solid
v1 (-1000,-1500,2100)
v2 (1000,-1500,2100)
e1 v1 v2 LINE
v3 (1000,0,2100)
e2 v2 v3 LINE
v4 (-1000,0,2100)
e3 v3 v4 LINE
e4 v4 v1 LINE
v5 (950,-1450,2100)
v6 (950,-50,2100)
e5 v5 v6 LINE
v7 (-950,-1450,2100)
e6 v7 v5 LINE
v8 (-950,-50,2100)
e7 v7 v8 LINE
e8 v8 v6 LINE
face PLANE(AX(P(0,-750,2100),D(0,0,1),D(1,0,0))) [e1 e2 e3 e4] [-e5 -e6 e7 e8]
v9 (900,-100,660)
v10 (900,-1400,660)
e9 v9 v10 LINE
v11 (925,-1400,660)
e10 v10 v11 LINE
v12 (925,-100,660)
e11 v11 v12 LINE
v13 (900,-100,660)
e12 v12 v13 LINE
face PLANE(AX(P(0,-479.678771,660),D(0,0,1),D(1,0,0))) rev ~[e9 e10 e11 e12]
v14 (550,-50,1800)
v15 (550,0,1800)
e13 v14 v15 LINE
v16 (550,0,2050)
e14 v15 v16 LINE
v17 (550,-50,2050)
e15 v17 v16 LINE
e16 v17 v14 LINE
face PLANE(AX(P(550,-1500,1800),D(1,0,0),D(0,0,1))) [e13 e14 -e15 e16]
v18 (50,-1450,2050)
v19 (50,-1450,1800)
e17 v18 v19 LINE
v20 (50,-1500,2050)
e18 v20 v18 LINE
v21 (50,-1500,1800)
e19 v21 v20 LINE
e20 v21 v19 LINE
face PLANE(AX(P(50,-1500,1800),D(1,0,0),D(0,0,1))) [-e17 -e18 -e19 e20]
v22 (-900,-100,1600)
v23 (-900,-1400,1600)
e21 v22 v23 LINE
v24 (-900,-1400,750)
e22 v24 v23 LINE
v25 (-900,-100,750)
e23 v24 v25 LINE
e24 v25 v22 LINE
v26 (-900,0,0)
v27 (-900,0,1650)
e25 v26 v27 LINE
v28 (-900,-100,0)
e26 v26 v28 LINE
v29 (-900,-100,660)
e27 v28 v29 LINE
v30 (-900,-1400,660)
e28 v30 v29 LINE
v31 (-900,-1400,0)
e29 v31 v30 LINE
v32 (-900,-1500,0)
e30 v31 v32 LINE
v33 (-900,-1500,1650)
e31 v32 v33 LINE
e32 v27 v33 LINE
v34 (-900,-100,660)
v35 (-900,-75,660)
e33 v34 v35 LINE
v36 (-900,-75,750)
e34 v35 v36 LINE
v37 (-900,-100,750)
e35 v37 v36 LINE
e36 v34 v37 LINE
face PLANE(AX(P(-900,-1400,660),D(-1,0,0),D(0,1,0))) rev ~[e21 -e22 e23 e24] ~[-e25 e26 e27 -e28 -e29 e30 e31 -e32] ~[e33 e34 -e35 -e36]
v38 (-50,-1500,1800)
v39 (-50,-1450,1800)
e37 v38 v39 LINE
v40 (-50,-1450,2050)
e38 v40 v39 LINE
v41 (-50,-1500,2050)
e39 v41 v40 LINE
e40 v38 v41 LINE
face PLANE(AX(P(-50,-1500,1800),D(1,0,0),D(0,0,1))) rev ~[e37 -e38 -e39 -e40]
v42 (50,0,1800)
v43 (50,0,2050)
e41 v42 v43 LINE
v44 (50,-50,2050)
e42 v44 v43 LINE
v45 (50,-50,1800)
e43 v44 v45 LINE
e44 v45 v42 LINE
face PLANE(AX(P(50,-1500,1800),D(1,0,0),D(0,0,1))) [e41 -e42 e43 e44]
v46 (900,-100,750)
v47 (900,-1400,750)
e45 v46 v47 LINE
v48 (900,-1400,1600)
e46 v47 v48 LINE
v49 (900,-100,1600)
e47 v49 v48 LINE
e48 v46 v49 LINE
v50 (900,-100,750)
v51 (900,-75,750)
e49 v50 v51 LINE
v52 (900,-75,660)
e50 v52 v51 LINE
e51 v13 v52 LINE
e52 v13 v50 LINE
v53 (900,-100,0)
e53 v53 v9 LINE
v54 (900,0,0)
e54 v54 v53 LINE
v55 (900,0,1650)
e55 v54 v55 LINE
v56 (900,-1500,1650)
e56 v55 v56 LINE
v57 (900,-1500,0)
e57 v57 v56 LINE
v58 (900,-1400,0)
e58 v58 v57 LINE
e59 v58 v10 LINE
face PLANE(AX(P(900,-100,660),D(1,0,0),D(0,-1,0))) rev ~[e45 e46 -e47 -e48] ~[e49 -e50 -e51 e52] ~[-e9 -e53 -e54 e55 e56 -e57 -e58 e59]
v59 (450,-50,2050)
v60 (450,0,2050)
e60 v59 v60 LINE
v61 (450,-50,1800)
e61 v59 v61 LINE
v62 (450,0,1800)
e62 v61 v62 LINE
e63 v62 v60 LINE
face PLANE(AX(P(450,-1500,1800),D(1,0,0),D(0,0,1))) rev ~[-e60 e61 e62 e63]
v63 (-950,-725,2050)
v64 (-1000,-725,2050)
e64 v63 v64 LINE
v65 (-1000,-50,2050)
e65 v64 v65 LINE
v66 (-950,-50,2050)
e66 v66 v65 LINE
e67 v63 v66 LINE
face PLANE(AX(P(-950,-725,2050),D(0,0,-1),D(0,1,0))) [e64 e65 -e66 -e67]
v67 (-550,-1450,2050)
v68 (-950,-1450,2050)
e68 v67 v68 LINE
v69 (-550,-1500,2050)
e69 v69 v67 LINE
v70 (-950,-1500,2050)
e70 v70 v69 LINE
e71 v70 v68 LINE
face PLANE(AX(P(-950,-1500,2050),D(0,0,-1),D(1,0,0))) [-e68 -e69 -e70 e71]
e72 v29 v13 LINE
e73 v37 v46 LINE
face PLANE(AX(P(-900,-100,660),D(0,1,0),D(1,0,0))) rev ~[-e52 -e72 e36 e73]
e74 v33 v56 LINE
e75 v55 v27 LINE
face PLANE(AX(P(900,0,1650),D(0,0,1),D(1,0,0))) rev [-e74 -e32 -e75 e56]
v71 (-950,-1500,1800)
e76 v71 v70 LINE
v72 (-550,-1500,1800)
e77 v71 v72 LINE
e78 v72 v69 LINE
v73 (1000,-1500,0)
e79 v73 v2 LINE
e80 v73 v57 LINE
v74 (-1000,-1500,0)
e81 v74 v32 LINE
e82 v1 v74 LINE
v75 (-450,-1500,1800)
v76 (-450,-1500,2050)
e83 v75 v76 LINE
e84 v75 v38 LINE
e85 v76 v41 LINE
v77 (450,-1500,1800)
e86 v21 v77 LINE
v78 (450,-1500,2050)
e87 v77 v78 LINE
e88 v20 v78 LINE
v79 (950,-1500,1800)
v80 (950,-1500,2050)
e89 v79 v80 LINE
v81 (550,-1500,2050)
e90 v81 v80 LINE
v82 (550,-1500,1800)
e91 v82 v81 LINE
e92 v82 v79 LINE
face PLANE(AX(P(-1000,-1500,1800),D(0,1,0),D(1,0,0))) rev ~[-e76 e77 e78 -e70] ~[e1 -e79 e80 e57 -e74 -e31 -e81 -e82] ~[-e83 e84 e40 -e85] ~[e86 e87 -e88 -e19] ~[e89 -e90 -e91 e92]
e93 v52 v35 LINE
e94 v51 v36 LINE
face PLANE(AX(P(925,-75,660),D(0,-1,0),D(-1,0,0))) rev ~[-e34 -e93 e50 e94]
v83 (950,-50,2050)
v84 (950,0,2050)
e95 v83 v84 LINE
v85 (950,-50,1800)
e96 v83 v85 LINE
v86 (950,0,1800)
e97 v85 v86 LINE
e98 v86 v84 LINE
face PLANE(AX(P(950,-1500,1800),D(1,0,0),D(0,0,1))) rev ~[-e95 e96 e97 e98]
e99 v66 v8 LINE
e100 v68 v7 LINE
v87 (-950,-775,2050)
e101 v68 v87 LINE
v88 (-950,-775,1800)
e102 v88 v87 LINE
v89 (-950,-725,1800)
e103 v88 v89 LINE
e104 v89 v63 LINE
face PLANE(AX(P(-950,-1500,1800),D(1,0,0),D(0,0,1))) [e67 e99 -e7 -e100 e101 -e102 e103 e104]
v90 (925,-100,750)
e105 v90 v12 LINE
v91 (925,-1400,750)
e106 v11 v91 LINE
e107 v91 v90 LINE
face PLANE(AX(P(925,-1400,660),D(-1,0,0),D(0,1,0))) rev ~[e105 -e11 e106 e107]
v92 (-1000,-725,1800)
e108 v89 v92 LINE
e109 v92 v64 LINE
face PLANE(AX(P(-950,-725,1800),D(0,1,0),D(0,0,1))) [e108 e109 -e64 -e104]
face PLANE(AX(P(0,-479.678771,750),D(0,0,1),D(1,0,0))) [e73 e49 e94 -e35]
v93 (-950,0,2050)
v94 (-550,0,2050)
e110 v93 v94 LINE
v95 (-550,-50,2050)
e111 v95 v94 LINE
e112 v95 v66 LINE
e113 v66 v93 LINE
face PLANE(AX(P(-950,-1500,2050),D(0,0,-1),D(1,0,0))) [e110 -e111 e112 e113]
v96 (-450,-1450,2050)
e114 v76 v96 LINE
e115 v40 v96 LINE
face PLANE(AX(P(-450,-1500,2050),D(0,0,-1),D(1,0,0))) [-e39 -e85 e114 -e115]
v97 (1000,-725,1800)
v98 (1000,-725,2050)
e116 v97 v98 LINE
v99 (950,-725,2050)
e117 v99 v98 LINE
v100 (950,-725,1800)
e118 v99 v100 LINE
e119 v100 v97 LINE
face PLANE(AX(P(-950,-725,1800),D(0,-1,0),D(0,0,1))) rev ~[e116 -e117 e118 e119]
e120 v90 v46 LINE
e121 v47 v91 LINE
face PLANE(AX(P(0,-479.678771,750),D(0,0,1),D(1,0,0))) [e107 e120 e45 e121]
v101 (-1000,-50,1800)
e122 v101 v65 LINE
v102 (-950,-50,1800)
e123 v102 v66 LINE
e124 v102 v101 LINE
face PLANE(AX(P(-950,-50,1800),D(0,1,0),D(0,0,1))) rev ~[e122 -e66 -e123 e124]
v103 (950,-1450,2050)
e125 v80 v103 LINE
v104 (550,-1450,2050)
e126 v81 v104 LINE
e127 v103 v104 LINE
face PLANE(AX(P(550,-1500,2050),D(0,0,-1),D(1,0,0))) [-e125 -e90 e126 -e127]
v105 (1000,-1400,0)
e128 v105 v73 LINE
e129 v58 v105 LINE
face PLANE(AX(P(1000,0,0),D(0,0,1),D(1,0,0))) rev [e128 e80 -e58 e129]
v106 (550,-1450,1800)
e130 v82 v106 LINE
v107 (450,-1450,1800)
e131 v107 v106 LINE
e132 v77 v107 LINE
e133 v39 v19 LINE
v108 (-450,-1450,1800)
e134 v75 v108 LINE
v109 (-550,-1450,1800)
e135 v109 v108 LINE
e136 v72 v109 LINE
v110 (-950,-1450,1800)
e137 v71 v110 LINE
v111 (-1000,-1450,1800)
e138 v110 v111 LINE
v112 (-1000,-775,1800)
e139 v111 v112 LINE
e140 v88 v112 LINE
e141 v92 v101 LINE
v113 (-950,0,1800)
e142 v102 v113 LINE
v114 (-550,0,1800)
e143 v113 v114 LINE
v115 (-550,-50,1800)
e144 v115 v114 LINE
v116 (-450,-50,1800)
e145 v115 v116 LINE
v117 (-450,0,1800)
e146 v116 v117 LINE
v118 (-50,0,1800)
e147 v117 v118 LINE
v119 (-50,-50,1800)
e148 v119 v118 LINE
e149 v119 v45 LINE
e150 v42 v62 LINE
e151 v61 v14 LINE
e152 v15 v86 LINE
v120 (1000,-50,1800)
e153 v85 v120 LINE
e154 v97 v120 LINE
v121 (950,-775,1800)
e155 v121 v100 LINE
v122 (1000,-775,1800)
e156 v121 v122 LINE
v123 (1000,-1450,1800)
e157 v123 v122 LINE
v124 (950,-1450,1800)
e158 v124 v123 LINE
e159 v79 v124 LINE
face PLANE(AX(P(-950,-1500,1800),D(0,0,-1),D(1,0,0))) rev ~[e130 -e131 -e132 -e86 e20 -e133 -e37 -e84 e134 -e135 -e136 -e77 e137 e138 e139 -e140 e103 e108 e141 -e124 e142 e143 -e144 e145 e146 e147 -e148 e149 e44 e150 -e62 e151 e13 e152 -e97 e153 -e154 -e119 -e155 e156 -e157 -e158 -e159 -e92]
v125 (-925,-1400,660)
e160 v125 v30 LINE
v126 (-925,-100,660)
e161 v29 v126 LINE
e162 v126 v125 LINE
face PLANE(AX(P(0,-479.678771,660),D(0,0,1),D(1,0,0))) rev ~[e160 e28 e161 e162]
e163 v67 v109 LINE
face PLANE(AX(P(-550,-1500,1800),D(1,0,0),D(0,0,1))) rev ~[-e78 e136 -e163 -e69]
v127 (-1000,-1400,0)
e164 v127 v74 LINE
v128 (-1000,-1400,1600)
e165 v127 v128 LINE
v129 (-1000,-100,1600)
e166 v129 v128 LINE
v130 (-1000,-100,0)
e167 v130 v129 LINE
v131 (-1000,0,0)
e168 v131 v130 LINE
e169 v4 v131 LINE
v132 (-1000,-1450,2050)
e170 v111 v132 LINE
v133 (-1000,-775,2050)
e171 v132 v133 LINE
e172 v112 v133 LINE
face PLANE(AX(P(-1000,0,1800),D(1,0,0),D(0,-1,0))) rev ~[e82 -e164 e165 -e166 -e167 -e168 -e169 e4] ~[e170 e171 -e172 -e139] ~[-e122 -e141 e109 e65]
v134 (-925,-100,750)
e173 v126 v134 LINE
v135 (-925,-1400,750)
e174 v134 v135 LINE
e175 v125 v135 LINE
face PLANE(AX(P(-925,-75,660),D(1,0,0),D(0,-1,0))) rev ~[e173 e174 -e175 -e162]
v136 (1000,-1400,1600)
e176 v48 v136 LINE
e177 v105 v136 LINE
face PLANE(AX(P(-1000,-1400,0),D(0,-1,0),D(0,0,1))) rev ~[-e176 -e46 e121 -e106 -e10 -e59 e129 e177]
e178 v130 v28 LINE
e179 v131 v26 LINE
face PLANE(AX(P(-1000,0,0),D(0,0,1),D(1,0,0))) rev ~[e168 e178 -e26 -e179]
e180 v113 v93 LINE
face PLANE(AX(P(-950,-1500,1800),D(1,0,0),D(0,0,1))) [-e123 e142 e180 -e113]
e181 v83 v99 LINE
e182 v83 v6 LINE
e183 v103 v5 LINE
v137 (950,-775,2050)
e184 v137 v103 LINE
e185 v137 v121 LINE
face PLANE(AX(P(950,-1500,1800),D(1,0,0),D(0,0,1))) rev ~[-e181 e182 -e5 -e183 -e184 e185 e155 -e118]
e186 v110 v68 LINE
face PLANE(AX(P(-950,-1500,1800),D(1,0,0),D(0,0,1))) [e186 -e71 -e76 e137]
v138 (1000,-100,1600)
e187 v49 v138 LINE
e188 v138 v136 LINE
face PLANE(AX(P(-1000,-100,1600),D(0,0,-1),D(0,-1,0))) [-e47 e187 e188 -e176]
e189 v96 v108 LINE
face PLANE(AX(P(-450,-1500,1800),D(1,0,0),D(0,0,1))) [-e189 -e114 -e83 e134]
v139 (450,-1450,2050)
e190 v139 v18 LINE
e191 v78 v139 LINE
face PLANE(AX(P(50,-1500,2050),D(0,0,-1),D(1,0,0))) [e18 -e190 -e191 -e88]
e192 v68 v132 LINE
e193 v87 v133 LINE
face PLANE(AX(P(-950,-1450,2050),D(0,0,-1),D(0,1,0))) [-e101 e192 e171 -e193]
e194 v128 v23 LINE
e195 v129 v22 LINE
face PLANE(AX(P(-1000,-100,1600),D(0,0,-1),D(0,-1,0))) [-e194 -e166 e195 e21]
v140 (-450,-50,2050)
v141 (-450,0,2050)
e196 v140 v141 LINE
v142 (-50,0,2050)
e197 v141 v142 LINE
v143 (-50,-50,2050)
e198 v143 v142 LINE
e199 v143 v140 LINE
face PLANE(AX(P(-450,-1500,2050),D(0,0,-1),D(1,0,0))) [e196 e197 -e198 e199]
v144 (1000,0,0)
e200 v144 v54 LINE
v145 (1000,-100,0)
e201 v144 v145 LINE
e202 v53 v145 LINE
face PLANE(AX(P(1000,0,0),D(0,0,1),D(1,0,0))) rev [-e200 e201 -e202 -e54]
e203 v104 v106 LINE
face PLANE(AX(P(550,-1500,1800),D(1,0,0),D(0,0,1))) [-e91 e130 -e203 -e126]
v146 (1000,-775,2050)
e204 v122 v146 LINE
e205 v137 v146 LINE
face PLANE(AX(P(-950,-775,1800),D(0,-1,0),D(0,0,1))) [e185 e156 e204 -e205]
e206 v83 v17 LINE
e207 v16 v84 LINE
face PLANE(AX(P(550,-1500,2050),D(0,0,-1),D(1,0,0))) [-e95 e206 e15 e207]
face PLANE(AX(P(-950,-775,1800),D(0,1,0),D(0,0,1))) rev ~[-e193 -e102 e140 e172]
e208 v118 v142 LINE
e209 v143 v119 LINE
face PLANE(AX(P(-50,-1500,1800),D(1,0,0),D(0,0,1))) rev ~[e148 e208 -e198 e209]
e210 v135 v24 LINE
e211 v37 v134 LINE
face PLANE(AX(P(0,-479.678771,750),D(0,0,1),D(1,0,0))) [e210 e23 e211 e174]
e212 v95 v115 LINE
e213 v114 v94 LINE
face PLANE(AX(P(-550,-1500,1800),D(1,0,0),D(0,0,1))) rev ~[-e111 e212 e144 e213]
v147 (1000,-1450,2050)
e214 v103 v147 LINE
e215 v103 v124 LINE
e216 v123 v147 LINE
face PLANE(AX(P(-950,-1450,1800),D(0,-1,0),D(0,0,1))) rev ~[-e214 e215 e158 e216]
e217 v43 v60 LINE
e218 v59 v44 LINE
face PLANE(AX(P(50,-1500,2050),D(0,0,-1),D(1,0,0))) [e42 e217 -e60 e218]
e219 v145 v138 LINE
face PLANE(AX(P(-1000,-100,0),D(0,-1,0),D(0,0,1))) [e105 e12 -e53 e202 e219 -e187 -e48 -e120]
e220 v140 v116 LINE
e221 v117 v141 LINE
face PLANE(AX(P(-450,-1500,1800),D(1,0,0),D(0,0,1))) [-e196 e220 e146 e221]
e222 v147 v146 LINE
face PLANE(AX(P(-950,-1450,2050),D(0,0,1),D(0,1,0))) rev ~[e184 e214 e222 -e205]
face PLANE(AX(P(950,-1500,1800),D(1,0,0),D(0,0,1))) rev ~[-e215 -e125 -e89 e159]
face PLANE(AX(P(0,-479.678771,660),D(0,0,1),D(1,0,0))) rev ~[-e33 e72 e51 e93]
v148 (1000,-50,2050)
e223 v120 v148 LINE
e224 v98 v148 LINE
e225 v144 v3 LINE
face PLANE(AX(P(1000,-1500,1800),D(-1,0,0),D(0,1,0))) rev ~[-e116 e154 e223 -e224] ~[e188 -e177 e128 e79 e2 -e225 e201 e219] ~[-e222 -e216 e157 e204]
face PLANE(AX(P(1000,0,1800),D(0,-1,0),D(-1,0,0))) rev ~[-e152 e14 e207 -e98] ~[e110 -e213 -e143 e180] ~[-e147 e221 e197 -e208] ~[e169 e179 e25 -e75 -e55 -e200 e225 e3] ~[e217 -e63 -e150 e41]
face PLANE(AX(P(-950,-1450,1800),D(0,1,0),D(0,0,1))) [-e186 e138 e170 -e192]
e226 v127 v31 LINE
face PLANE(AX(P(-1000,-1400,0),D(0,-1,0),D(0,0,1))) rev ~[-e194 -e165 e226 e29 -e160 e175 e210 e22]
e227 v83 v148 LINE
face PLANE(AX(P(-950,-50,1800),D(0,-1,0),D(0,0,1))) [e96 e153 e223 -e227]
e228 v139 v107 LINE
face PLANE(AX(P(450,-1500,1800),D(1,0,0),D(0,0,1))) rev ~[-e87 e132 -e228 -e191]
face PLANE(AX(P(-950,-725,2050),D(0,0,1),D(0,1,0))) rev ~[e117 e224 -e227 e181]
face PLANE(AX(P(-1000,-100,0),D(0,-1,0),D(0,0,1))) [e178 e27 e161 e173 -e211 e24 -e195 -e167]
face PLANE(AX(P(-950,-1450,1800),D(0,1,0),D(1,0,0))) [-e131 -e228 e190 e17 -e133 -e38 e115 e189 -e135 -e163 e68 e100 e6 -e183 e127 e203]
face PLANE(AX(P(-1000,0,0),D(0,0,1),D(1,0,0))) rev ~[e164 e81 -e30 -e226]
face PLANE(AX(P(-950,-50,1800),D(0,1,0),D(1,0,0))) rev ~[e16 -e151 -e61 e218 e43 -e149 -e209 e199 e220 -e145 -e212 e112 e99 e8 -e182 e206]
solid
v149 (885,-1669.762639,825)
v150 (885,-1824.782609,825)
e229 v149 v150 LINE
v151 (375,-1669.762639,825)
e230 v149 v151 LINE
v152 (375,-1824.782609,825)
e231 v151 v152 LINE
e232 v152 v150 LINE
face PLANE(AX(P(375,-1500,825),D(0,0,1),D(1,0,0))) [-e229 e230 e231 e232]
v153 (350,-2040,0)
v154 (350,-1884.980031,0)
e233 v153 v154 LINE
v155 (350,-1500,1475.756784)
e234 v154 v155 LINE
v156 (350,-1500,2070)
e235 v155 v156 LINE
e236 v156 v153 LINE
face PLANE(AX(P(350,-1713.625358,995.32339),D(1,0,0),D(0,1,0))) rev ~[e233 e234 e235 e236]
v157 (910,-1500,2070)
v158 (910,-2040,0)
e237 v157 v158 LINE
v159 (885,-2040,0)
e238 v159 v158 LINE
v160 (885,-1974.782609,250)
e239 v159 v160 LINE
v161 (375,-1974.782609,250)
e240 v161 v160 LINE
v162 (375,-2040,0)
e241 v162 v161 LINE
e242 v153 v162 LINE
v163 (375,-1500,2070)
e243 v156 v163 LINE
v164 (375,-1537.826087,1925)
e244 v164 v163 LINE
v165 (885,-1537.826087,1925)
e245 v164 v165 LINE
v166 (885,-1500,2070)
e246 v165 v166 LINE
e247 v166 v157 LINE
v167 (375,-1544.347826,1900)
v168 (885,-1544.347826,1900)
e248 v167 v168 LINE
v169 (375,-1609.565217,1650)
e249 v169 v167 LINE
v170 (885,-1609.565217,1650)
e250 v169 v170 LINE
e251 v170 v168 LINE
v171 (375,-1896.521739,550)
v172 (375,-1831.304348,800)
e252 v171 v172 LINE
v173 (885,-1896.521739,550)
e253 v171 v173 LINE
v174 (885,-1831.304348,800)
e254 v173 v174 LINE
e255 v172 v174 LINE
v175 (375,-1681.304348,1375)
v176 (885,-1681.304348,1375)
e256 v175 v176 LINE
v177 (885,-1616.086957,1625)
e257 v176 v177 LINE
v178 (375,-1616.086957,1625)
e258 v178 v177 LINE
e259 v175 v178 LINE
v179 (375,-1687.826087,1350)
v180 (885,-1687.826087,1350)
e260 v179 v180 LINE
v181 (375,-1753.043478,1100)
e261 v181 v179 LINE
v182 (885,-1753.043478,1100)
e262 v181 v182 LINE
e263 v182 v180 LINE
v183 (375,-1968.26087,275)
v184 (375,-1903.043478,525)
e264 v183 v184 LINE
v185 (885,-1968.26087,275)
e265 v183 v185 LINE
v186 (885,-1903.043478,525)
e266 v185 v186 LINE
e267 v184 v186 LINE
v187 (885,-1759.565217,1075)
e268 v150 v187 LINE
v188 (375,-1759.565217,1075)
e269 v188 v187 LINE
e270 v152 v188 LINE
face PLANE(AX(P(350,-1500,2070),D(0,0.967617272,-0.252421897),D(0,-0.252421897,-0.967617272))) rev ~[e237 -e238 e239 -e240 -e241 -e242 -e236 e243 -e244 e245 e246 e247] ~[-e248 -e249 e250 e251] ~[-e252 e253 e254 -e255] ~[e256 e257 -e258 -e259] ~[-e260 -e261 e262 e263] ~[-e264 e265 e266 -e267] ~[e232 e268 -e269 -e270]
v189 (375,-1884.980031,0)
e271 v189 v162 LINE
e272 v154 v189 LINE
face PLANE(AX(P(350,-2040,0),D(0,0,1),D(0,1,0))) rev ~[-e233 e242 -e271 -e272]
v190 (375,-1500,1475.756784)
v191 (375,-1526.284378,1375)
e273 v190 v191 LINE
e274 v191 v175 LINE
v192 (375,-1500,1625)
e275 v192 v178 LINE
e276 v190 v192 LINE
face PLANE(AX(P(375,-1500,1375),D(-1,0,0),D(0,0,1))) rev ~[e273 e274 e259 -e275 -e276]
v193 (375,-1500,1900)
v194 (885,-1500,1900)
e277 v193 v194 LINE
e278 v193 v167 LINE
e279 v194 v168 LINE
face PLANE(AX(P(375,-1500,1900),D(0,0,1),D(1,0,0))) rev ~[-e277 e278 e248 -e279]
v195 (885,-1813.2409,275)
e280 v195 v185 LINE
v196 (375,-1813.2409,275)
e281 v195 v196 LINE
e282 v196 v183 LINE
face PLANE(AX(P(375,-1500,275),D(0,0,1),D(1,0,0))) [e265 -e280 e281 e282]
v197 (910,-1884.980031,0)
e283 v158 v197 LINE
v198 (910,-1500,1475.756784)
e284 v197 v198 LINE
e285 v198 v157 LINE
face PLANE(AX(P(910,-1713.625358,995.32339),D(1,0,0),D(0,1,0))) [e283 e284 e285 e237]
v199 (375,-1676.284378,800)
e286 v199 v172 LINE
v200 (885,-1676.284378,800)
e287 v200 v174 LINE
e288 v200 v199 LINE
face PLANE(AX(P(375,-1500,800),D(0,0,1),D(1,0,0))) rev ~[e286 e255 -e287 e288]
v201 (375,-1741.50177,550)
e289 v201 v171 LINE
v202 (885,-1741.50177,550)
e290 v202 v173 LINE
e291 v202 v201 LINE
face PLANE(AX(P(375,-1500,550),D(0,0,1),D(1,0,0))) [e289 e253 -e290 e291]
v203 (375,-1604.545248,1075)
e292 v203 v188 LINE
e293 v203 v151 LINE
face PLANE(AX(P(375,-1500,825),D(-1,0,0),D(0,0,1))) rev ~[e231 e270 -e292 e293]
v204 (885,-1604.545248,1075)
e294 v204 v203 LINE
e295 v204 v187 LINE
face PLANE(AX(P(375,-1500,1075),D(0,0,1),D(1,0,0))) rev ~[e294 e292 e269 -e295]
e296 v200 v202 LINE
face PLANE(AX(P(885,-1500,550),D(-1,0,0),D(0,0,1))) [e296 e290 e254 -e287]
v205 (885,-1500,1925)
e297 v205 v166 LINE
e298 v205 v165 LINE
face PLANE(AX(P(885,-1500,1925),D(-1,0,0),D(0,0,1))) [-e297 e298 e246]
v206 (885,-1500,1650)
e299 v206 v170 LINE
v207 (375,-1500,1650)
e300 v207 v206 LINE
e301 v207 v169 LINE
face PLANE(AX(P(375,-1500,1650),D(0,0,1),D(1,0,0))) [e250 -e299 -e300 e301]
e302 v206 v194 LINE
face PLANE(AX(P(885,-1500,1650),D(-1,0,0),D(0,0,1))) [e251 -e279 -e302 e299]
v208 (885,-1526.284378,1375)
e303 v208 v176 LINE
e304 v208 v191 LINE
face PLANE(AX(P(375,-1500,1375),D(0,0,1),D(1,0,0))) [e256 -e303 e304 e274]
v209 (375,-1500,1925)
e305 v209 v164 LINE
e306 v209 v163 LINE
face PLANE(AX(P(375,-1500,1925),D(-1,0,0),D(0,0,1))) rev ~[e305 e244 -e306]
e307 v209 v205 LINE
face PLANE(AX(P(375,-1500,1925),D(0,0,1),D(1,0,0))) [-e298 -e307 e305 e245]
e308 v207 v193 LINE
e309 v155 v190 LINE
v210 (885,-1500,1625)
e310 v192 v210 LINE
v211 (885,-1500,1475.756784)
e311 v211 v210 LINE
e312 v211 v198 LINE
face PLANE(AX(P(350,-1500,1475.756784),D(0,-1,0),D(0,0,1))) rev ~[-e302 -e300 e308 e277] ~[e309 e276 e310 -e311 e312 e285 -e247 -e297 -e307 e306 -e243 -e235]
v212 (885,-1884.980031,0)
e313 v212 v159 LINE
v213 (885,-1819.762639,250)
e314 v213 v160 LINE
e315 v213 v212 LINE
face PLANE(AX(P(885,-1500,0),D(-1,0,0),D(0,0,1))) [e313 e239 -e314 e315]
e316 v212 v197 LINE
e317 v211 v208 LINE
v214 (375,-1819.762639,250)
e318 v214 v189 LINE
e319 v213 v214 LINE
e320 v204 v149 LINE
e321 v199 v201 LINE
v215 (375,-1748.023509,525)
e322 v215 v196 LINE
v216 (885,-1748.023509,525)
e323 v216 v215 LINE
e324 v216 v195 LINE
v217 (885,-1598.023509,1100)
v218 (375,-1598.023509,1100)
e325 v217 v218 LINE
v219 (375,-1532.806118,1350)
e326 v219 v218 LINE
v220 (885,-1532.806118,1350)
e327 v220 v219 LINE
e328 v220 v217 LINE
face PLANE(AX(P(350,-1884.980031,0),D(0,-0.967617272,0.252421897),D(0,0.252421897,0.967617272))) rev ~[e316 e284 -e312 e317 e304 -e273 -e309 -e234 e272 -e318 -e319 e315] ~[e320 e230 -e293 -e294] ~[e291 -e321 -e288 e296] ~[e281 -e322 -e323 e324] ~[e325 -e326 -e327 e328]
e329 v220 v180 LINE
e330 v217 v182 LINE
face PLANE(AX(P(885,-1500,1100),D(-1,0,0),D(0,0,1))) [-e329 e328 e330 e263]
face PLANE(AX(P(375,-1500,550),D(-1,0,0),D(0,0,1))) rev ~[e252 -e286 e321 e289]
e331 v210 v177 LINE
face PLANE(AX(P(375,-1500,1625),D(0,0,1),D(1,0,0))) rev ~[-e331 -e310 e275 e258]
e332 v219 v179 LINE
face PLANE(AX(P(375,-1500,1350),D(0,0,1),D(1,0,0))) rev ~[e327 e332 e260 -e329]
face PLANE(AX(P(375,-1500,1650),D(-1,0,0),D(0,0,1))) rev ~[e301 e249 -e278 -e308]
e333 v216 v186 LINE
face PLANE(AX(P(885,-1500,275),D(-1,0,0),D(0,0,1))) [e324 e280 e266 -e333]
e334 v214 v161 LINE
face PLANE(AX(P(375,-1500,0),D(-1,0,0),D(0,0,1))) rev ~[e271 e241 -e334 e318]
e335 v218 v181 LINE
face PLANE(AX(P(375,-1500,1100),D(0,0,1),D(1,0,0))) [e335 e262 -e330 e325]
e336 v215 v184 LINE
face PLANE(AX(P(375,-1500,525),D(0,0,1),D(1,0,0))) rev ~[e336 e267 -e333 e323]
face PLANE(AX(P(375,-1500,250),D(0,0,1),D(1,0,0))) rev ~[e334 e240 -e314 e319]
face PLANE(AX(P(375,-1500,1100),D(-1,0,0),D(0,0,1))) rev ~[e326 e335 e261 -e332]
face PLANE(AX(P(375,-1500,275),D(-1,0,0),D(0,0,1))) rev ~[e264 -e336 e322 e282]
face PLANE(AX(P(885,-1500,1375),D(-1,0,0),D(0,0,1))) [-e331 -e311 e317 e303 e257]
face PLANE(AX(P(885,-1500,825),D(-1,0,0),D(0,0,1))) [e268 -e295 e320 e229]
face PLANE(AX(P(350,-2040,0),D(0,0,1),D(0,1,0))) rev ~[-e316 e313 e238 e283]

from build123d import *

# Parameters (mm, degrees)
F1_DEPTH      = 1500
F3_W          = 1900
F3_H          = 1400
F4_DEPTH      = 300
F5_W          = 400
F5_H          = 250
F6_DEPTH      = 1500.001
F7_W          = 675
F7_H          = 250
F8_DEPTH      = 1950.001
F8_DEPTH_BACK = 50.001
F9_W          = 1300
F9_H          = 1600
F10_DEPTH     = 2000.001
F14_DEPTH     = 560
F15_W         = 510
F15_H         = 250
F16_DEPTH     = 540.001
F18_DEPTH     = 90


with BuildPart() as f1:
    # F0 (on Front) → F1 (new body)
    with BuildSketch(Plane.XZ):
        Polygon((-1000, 1800), (-1000, 0), (-900, 0), (-900, 1650), (0, 1650), (0, 1800), align=None)
    extrude(amount=F1_DEPTH)

    # F2: F1 across plane


with BuildPart() as f1_1:
    add(f1.part)
    add(f1.part.mirror(Plane.YZ))

    # F3 (on face) → F4 (join)
    with BuildSketch(Plane.XY.offset(1800)):
        Polygon((-1000, -1500), (1000, -1500), (1000, -1450), (1000, 0), (-1000, 0), (-1000, -50), align=None)
        with Locations((0, -750)):
            Rectangle(F3_W, F3_H, mode=Mode.SUBTRACT)
    extrude(amount=F4_DEPTH)

    # F5 (on face) → F6 (cut, through all)
    with BuildSketch(Plane.XZ.offset(1500)):
        with Locations((-750, 1925)):
            Rectangle(F5_W, F5_H)
        with Locations((-250, 1925)):
            Rectangle(F5_W, F5_H)
        with Locations((250, 1925)):
            Rectangle(F5_W, F5_H)
        with Locations((750, 1925)):
            Rectangle(F5_W, F5_H)
        with Locations((1250, 1925)):
            Rectangle(F5_W, F5_H)
    extrude(amount=-F6_DEPTH, mode=Mode.SUBTRACT)

    # F7 (on face) → F8 (cut, two sides)
    with BuildSketch(Plane.YZ.offset(-950)) as f8_sk:
        with Locations((-1112.5, 1925)):
            Rectangle(F7_W, F7_H)
        with Locations((-387.5, 1925)):
            Rectangle(F7_W, F7_H)
    extrude(amount=F8_DEPTH, mode=Mode.SUBTRACT)
    extrude(f8_sk.sketch, amount=-F8_DEPTH_BACK, mode=Mode.SUBTRACT)

    # F9 (on face) → F10 (cut, through all)
    with BuildSketch(Plane(origin=(-1000, 0, 0), x_dir=(0, -1, 0), z_dir=(-1, 0, 0))):
        with Locations((750, 800)):
            Rectangle(F9_W, F9_H)
    extrude(amount=-F10_DEPTH, mode=Mode.SUBTRACT)

    # F17 (on offset) → F18 (join)
    with BuildSketch(Plane.XY.offset(660)):
        Polygon((-925, -75), (-925, -1400), (-900, -1400), (-900, -100), (900, -100), (900, -1400), (925, -1400), (925, -75), align=None)
    extrude(amount=F18_DEPTH)


with BuildPart() as f14:
    # F13 (on offset) → F14 (new body)
    with BuildSketch(Plane.YZ.offset(350)):
        Polygon((-1500, 1475.7567837998), (-1500, 2070), (-2040, 0), (-1884.9800305565, 0), align=None)
    extrude(amount=F14_DEPTH)

    # F15 (on face) → F16 (cut, through all)
    with BuildSketch(Plane.XZ.offset(1500)):
        with Locations((630, 125)):
            Rectangle(F15_W, F15_H)
        with Locations((630, 400)):
            Rectangle(F15_W, F15_H)
        with Locations((630, 675)):
            Rectangle(F15_W, F15_H)
        with Locations((630, 950)):
            Rectangle(F15_W, F15_H)
        with Locations((630, 1225)):
            Rectangle(F15_W, F15_H)
        with Locations((630, 1500)):
            Rectangle(F15_W, F15_H)
        with Locations((630, 1775)):
            Rectangle(F15_W, F15_H)
        with Locations((630, 2050)):
            Rectangle(F15_W, F15_H)
    extrude(amount=F16_DEPTH, mode=Mode.SUBTRACT)


solid = Compound([f1_1.part, f14.part])
